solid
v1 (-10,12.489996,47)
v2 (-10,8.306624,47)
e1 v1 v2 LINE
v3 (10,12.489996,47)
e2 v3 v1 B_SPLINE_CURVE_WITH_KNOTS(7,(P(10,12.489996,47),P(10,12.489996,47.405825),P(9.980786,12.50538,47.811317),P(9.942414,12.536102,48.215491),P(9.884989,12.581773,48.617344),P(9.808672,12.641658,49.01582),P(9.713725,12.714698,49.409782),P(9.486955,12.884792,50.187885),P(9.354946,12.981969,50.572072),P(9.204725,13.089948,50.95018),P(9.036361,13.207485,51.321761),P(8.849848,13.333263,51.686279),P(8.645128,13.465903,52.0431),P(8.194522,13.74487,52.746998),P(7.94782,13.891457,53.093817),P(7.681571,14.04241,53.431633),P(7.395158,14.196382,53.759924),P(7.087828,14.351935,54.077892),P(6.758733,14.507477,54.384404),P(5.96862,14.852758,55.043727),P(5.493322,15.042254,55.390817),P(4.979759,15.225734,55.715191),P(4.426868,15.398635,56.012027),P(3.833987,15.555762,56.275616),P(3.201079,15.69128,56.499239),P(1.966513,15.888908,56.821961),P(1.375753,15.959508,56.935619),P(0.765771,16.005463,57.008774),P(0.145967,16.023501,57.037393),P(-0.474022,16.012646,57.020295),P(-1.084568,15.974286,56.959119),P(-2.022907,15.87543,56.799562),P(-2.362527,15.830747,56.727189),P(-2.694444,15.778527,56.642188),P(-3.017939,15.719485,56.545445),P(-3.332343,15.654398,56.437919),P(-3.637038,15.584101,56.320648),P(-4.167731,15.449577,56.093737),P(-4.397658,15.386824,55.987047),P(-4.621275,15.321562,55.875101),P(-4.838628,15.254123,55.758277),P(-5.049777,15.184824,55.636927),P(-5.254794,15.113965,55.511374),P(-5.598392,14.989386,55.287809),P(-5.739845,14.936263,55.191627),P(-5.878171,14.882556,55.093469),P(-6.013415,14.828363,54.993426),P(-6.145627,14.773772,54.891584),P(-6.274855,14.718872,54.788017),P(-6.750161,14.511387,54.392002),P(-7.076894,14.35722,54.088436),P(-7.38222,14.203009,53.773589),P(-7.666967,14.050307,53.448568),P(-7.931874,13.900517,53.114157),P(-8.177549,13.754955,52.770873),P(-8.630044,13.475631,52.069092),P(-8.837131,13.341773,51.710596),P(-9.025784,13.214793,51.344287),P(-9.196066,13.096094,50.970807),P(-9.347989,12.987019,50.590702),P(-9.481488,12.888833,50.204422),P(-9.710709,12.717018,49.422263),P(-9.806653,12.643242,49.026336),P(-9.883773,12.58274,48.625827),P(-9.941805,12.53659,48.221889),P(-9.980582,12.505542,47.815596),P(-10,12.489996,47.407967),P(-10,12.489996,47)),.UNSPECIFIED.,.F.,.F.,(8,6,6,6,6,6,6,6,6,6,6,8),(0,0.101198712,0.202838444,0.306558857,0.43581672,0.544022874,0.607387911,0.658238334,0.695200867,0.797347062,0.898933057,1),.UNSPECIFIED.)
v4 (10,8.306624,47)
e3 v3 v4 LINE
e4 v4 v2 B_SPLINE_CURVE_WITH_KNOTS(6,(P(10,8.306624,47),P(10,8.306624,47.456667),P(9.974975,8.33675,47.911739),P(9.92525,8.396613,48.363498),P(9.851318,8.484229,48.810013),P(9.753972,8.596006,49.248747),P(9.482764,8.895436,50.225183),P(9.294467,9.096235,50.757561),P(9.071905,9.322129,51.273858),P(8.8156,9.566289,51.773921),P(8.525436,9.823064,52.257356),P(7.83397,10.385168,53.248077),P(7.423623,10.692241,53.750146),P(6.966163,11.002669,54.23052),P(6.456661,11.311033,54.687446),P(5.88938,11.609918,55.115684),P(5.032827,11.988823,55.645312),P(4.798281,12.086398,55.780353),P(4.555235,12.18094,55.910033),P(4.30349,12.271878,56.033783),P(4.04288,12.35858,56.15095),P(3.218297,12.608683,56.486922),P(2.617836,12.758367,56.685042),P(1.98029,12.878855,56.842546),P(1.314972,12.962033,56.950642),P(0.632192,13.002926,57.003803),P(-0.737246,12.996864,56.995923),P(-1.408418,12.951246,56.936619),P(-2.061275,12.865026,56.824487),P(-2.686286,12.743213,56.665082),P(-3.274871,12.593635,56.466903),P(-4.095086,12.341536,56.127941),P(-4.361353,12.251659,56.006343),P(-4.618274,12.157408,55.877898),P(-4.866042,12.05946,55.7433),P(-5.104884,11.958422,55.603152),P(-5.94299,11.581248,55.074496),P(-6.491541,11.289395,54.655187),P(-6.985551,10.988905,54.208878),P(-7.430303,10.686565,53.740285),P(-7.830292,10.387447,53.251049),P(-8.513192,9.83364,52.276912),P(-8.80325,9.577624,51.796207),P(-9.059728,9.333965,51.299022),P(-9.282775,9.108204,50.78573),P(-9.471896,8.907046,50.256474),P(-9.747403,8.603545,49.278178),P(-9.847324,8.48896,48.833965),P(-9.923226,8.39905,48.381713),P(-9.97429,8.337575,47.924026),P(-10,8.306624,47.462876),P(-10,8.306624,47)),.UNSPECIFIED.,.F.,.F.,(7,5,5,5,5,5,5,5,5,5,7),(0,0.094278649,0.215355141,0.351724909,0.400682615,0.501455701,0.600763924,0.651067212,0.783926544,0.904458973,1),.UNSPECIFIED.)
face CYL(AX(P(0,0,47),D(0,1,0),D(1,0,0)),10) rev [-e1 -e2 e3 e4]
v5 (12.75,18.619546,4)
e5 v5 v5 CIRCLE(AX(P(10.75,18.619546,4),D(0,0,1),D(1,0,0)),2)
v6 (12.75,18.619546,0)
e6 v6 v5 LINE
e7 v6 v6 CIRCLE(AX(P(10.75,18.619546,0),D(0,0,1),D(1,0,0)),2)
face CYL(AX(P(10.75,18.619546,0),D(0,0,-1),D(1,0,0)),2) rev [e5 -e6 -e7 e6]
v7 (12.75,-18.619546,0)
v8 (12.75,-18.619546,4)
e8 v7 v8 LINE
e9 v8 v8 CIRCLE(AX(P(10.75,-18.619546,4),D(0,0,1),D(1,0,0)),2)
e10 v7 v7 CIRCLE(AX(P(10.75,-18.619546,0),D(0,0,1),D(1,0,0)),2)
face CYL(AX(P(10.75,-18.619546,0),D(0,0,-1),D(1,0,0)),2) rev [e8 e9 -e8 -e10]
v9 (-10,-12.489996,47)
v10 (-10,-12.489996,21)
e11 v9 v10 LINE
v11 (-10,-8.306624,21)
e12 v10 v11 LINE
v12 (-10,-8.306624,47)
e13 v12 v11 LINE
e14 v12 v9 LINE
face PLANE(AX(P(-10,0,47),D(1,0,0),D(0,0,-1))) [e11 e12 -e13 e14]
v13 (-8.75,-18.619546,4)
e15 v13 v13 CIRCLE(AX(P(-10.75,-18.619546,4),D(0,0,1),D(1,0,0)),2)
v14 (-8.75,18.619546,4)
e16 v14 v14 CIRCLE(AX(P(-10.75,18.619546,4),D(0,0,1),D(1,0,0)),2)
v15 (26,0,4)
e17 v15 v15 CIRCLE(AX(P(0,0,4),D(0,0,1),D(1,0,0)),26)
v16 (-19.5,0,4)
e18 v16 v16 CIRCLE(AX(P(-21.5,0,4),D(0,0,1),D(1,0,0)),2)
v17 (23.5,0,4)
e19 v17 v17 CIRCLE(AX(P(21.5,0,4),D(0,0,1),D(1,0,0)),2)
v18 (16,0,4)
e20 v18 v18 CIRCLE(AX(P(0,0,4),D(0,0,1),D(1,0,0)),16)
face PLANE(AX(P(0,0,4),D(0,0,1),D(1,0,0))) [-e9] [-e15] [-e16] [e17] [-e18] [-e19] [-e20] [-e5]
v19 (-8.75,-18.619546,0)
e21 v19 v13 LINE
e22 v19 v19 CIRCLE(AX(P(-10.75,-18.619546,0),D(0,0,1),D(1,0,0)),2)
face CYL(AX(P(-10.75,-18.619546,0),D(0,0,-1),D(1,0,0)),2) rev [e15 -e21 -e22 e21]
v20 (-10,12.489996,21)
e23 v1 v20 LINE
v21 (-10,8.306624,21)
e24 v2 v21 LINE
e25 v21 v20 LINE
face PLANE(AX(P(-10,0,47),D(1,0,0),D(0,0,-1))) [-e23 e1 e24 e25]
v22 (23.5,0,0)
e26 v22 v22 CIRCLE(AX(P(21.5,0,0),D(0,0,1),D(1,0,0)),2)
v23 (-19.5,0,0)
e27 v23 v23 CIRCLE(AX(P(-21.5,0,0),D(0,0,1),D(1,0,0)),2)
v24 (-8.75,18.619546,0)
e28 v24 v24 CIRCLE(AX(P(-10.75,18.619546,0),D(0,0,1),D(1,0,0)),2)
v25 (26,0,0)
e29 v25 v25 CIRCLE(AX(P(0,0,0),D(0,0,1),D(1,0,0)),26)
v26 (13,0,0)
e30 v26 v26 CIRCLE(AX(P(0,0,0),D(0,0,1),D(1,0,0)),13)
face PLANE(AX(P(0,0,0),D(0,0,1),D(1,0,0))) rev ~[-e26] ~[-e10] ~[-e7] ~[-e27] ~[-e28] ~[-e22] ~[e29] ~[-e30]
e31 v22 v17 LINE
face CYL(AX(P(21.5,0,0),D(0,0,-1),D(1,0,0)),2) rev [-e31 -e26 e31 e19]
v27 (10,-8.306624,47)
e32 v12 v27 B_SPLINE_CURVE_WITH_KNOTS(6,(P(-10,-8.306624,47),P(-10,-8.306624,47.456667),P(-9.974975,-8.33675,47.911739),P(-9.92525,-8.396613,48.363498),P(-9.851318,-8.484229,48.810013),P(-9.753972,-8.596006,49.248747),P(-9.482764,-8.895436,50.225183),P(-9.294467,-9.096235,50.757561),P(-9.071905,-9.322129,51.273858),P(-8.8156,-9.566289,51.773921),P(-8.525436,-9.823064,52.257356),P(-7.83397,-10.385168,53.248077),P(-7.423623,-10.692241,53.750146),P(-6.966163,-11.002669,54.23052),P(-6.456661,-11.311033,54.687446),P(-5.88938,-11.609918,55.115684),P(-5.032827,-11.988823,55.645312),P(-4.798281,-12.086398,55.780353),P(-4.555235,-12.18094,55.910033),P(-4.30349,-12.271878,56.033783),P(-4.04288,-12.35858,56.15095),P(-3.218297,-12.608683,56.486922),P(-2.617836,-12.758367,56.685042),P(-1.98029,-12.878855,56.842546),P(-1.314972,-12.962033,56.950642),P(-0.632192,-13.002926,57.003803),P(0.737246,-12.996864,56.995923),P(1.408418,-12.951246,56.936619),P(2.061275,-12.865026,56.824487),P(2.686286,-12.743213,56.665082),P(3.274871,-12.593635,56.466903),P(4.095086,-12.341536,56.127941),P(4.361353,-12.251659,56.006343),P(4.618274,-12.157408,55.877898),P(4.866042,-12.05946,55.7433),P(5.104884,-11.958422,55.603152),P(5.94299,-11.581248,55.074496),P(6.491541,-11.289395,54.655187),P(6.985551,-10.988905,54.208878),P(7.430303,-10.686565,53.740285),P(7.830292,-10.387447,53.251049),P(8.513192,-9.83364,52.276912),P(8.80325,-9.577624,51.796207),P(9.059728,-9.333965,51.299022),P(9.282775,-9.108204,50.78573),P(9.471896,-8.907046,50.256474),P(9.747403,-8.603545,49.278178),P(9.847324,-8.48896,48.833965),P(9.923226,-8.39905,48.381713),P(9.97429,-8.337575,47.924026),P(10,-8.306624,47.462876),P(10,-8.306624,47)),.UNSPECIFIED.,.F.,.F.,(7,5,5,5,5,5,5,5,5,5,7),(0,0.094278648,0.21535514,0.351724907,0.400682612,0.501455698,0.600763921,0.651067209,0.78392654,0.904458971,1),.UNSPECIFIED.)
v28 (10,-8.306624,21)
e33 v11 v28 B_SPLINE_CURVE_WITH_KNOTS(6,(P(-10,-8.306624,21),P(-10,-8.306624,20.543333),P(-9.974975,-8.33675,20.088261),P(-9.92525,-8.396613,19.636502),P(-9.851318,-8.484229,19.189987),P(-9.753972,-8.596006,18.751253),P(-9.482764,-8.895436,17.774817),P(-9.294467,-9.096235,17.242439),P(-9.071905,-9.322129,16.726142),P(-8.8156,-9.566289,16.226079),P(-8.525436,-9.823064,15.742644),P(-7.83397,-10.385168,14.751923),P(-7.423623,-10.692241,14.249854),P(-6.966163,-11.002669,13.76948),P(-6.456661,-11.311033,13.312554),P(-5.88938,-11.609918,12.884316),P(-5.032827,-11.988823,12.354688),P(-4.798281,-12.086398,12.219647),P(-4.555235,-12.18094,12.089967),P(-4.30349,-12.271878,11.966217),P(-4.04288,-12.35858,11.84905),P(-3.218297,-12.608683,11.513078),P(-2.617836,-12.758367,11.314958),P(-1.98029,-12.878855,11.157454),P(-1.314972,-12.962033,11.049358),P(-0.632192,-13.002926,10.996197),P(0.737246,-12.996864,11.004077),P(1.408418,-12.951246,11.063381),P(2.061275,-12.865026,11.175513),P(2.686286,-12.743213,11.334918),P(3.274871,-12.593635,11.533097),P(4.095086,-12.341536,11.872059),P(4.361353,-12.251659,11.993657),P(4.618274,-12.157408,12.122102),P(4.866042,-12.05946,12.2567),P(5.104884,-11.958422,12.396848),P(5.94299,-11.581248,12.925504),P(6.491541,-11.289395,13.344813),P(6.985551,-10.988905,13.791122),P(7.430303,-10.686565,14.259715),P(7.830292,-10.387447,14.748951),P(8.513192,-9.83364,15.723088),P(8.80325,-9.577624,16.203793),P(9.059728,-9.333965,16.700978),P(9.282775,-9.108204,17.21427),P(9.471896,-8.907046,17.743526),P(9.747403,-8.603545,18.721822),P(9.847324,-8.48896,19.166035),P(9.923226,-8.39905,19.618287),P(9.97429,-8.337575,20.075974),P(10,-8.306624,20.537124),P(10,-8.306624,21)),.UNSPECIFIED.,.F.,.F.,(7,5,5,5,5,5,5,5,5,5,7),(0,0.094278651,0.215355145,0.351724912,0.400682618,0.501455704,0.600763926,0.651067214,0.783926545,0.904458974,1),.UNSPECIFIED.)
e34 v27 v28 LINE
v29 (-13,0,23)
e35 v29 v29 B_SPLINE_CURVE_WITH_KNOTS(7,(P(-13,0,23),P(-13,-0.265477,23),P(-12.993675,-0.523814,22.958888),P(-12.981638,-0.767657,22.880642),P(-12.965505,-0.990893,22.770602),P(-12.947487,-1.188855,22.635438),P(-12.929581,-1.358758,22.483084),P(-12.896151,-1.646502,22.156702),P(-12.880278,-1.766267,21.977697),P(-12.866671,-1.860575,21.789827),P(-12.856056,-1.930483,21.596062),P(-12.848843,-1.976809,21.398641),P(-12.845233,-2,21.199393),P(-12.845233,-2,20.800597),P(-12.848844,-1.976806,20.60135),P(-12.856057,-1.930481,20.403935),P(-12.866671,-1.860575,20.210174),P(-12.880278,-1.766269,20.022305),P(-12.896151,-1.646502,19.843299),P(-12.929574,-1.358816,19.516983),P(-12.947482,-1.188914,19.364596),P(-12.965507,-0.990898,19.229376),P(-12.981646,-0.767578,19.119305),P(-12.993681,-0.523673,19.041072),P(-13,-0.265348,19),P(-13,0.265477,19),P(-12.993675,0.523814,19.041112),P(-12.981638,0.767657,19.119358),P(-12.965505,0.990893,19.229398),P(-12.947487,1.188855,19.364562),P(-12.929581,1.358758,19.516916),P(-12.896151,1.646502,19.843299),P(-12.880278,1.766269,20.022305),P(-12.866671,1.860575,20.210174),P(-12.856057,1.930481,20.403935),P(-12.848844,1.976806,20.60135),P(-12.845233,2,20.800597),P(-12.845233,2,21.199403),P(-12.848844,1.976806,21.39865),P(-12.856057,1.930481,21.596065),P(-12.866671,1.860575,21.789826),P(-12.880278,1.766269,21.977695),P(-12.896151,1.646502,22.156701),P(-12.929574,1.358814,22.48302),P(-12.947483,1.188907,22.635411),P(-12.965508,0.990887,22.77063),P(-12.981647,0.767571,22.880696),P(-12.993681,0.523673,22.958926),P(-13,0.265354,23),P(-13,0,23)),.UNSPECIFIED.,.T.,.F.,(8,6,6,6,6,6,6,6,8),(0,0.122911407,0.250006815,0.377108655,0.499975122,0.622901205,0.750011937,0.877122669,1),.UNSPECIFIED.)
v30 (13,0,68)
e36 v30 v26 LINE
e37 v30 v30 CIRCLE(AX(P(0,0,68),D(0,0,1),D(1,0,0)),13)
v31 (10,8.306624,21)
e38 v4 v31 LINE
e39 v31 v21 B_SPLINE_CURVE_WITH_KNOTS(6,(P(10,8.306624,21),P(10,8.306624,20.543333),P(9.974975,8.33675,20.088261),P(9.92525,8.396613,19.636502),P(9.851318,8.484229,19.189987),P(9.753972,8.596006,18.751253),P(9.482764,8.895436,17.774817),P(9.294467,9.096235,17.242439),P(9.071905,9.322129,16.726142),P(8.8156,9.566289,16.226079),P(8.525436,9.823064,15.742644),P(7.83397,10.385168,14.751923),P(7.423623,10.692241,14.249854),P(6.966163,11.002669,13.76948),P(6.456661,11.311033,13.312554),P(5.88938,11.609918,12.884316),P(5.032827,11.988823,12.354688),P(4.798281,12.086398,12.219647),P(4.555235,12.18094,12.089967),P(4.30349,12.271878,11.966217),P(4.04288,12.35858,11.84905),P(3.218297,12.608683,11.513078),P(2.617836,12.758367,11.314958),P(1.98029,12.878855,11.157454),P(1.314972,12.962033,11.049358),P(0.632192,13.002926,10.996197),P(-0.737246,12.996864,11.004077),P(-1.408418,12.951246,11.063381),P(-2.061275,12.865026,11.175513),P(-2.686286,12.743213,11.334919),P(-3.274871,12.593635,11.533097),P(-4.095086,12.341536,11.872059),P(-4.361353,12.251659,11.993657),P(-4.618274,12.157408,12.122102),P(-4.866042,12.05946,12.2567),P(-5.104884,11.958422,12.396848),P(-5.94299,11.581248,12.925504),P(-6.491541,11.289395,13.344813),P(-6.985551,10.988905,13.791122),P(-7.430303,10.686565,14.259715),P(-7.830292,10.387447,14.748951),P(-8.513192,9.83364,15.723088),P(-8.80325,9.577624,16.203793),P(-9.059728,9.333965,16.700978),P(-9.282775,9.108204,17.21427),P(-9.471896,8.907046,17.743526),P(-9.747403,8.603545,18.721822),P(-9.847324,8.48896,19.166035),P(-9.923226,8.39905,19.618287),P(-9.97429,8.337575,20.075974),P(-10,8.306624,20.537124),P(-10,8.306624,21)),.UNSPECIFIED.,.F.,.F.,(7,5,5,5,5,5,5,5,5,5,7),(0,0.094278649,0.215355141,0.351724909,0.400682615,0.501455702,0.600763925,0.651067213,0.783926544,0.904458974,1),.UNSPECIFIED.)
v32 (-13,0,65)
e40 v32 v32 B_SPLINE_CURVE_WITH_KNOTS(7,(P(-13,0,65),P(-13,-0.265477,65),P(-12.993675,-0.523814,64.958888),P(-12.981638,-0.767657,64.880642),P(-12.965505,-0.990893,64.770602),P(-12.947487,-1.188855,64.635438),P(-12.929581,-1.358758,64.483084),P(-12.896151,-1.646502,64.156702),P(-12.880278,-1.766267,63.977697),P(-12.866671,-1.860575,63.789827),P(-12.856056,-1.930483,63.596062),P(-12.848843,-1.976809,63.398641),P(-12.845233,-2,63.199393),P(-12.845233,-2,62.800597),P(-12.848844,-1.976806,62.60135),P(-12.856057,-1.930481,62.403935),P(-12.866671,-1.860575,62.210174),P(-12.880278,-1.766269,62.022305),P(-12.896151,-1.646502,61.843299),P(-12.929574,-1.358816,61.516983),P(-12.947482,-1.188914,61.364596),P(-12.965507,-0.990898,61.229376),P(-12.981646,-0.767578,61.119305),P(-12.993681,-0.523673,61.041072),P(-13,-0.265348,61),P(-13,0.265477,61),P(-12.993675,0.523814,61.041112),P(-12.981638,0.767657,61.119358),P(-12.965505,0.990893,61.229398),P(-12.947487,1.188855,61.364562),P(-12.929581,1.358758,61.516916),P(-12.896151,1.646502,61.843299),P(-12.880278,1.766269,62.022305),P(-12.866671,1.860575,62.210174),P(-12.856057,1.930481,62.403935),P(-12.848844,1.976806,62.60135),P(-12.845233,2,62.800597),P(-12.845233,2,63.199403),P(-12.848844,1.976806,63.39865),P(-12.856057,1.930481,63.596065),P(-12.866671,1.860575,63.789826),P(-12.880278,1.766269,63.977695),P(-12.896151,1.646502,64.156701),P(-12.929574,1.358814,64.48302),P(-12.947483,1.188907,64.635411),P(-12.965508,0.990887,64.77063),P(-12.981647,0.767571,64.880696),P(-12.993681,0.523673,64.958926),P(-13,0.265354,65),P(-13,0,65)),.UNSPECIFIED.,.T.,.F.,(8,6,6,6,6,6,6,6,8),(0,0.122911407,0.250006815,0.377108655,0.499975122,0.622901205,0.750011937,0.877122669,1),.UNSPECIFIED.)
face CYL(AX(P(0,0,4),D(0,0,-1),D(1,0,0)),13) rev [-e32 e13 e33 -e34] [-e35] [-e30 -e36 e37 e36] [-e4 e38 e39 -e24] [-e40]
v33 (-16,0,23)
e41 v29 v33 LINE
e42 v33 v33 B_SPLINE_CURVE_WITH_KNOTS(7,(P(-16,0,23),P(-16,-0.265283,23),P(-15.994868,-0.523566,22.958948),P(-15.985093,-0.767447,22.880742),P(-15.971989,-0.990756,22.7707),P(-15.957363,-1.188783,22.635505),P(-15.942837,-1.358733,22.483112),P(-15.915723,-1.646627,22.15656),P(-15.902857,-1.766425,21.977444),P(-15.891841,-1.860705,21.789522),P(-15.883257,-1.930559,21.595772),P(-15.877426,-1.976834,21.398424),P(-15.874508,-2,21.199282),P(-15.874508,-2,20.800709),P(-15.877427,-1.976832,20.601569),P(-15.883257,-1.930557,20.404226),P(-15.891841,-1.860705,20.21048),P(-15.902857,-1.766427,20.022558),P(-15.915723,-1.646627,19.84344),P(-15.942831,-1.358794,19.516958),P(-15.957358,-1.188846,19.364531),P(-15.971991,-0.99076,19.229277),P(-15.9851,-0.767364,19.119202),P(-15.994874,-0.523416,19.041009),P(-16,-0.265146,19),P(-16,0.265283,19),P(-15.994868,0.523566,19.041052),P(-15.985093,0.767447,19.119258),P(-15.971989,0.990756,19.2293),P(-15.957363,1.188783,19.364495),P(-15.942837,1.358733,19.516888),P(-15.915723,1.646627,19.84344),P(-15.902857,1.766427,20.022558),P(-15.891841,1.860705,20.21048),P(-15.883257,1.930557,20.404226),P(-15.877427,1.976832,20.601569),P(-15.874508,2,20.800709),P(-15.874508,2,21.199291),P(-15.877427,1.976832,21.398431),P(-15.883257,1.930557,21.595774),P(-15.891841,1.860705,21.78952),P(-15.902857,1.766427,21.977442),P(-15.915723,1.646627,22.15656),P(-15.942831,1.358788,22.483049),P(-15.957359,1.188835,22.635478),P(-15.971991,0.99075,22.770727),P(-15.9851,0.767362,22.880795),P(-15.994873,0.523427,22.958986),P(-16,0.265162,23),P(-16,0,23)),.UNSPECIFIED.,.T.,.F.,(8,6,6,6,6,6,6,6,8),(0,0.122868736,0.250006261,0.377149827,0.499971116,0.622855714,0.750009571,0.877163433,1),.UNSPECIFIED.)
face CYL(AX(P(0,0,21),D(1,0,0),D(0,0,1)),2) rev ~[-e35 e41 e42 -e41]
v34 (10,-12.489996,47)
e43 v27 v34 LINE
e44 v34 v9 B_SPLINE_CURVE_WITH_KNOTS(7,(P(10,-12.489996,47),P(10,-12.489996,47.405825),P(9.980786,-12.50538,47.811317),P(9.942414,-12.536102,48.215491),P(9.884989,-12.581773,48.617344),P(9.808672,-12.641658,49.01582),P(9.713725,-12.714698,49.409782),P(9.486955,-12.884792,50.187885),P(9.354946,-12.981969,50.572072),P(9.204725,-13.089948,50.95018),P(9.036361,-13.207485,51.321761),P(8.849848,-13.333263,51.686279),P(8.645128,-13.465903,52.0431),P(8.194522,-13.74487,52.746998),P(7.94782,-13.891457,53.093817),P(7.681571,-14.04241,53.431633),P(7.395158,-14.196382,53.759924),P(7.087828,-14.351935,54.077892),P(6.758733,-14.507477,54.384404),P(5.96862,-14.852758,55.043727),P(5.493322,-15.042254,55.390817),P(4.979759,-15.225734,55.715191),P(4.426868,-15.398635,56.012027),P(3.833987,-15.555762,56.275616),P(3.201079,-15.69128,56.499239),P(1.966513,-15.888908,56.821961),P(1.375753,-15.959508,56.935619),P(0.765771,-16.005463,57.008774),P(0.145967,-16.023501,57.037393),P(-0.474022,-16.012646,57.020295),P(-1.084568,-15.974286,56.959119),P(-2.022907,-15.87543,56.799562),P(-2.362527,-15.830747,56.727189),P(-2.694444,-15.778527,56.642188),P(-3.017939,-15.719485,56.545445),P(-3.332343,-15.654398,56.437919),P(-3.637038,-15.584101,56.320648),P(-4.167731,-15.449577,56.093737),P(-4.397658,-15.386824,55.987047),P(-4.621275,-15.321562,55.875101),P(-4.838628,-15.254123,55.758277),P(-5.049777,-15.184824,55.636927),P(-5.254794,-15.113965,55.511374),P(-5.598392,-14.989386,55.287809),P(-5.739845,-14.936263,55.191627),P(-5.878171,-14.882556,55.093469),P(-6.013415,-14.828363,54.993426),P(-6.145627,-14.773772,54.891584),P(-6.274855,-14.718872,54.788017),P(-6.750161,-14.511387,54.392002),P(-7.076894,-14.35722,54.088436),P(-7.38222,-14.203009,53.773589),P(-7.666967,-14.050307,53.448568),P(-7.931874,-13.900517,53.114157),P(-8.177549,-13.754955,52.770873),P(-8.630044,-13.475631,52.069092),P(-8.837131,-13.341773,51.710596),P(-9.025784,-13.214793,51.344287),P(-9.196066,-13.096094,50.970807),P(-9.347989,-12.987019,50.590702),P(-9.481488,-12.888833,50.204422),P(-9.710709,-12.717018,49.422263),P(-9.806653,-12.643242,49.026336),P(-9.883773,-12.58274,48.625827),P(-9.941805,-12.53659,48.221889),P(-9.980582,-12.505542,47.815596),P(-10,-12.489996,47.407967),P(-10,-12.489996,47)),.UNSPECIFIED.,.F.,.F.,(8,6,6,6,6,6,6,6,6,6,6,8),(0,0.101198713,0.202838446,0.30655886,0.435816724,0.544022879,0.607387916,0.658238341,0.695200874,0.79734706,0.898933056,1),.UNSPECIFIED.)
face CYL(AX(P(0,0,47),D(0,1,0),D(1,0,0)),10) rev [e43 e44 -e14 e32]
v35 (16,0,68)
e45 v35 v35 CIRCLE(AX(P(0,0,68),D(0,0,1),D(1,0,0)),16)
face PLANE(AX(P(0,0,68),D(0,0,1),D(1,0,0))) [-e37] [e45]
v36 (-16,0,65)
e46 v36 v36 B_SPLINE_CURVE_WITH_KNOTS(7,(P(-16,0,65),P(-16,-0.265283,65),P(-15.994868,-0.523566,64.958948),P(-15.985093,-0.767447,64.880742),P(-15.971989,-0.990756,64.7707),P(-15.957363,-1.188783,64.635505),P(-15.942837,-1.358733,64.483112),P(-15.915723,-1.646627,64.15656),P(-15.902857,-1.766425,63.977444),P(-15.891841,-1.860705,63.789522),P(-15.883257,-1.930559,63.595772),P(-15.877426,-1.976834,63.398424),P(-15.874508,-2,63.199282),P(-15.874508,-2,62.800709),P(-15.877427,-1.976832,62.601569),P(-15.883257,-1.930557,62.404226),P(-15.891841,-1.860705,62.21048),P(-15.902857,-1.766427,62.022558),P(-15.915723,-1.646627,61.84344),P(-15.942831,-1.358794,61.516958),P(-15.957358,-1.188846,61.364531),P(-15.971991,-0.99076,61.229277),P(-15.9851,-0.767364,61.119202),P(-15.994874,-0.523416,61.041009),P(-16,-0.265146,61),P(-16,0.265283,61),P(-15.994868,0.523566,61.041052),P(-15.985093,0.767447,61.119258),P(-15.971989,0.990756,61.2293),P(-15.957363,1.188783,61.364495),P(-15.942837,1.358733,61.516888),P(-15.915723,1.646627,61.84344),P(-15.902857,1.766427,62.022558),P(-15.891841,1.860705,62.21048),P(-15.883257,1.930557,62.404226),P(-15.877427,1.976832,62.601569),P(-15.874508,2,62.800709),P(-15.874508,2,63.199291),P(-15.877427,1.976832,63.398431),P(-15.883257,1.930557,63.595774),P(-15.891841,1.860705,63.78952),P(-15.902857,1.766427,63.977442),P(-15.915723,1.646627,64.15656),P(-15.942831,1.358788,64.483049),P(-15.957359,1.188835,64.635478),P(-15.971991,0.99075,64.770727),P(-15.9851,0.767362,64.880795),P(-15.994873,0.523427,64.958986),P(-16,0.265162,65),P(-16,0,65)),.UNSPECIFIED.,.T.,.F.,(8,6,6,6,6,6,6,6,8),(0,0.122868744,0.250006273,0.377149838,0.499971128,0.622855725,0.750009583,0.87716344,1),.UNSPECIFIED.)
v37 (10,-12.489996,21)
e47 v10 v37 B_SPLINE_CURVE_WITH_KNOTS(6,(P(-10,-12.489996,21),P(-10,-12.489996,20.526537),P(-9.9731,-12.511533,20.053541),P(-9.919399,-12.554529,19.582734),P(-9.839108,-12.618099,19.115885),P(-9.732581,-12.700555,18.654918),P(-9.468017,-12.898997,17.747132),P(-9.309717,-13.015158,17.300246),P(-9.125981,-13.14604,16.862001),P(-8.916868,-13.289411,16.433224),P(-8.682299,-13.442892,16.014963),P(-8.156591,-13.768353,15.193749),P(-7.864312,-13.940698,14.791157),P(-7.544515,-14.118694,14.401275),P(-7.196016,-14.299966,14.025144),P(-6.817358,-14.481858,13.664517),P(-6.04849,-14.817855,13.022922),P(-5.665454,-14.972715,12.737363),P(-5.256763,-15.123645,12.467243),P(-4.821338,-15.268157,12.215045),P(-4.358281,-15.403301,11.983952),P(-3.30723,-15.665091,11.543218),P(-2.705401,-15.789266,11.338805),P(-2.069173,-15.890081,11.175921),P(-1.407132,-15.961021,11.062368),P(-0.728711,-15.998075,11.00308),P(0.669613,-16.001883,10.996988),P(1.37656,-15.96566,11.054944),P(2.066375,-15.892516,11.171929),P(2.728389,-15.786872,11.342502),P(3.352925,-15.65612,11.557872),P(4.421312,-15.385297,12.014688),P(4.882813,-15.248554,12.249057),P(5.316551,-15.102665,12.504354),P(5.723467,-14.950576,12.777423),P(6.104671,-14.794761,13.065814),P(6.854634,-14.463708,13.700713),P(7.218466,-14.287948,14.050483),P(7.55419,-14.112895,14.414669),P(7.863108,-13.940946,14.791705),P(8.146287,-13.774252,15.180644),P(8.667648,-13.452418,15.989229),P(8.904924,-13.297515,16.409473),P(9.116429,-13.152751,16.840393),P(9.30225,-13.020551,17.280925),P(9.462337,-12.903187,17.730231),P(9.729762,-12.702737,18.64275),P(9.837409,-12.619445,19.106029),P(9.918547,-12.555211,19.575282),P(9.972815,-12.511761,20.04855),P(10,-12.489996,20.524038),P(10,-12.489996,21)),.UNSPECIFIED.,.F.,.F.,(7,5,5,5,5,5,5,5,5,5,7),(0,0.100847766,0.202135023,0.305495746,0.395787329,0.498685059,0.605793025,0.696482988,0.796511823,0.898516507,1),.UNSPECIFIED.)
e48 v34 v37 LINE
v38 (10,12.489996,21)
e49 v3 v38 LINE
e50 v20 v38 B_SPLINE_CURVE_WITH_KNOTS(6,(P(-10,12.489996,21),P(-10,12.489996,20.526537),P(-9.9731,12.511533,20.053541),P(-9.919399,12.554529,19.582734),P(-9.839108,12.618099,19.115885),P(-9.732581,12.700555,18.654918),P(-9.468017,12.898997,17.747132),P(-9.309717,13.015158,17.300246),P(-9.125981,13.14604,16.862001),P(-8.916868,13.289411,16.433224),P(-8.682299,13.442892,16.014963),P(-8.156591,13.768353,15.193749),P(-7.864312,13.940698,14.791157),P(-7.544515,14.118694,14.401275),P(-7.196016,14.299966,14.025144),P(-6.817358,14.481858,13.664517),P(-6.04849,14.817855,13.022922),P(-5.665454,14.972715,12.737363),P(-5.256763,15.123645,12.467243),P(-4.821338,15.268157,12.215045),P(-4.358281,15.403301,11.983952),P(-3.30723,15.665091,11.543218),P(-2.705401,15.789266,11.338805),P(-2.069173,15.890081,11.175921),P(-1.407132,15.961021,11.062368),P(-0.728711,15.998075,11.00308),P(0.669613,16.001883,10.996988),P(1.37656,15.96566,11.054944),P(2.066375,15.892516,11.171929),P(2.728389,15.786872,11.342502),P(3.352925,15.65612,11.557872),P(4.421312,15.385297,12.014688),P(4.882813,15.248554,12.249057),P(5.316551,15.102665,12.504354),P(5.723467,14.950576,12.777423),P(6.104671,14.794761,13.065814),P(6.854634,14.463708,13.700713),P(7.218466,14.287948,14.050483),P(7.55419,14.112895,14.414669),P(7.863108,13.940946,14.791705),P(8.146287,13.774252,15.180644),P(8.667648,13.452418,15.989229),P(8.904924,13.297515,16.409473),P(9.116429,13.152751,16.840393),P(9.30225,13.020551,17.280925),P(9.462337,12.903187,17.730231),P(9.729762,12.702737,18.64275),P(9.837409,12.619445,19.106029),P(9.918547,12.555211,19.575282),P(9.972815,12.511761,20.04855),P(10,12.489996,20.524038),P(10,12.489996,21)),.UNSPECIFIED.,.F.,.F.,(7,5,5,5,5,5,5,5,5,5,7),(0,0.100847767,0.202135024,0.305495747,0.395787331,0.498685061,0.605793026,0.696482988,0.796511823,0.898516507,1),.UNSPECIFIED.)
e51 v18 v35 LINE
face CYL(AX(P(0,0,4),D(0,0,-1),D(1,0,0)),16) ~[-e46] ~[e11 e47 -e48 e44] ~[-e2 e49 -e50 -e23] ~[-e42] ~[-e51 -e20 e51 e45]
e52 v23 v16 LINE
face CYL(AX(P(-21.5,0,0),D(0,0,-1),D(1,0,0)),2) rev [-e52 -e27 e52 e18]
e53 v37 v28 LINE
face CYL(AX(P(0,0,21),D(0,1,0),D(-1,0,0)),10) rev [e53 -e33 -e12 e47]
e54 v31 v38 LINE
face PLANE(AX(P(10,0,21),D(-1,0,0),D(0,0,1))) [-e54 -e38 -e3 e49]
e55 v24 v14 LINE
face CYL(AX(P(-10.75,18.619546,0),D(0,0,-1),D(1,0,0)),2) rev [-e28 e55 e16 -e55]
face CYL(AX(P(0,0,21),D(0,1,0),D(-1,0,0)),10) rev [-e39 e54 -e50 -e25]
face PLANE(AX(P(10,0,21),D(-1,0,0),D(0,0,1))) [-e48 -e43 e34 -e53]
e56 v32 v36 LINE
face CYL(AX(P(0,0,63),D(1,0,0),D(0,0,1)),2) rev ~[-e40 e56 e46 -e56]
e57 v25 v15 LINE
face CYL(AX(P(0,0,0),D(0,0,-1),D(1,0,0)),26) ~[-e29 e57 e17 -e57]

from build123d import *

# Parameters (mm, degrees)
SKETCH1_R           = 26
SKETCH1_R_2         = 13
SKETCH1_R_3         = 2
BOSS_EXTRUDE1_DEPTH = 4
SKETCH2_R           = 16
SKETCH2_R_2         = 13
BOSS_EXTRUDE2_DEPTH = 64
CUT_EXTRUDE1_DEPTH  = 32
SKETCH4_R           = 2
CUT_EXTRUDE2_DEPTH  = 64


with BuildPart() as part:
    # Sketch1 → Boss-Extrude1 (new body)
    with BuildSketch(Plane.XY):
        Circle(SKETCH1_R)
        Circle(SKETCH1_R_2, mode=Mode.SUBTRACT)
        with Locations((-21.5, 0)):
            Circle(SKETCH1_R_3, mode=Mode.SUBTRACT)
        with Locations((-10.75, 18.619546181)):
            Circle(SKETCH1_R_3, mode=Mode.SUBTRACT)
        with Locations((10.75, 18.619546181)):
            Circle(SKETCH1_R_3, mode=Mode.SUBTRACT)
        with Locations((21.5, 0)):
            Circle(SKETCH1_R_3, mode=Mode.SUBTRACT)
        with Locations((10.75, -18.619546181)):
            Circle(SKETCH1_R_3, mode=Mode.SUBTRACT)
        with Locations((-10.75, -18.619546181)):
            Circle(SKETCH1_R_3, mode=Mode.SUBTRACT)
    extrude(amount=BOSS_EXTRUDE1_DEPTH)

    # Sketch2 → Boss-Extrude2 (add)
    with BuildSketch(Plane.XY.offset(4)):
        Circle(SKETCH2_R)
        Circle(SKETCH2_R_2, mode=Mode.SUBTRACT)
    extrude(amount=BOSS_EXTRUDE2_DEPTH)

    # Sketch3 → Cut-Extrude1 (cut, symmetric)
    with BuildSketch(Plane(origin=(0, 0, 0), x_dir=(1, 0, 0), z_dir=(0, 1, 0))):
        with BuildLine():
            Line((10, -21), (10, -47))
            ThreePointArc((10, -47), (0, -57), (-10, -47))
            Line((-10, -47), (-10, -21))
            ThreePointArc((-10, -21), (0, -11), (10, -21))
        make_face()
    extrude(amount=CUT_EXTRUDE1_DEPTH, both=True, mode=Mode.SUBTRACT)

    # Sketch4 → Cut-Extrude2 (cut)
    with BuildSketch(Plane(origin=(0, 0, 0), x_dir=(0, 0, -1), z_dir=(1, 0, 0))):
        with Locations(Location((-21, 0, 0), (0, 0, 180))):
            Circle(SKETCH4_R)
        with Locations(Location((-63, 0, 0), (0, 0, 180))):
            Circle(SKETCH4_R)
    extrude(amount=-CUT_EXTRUDE2_DEPTH, mode=Mode.SUBTRACT)


solid = part.part
